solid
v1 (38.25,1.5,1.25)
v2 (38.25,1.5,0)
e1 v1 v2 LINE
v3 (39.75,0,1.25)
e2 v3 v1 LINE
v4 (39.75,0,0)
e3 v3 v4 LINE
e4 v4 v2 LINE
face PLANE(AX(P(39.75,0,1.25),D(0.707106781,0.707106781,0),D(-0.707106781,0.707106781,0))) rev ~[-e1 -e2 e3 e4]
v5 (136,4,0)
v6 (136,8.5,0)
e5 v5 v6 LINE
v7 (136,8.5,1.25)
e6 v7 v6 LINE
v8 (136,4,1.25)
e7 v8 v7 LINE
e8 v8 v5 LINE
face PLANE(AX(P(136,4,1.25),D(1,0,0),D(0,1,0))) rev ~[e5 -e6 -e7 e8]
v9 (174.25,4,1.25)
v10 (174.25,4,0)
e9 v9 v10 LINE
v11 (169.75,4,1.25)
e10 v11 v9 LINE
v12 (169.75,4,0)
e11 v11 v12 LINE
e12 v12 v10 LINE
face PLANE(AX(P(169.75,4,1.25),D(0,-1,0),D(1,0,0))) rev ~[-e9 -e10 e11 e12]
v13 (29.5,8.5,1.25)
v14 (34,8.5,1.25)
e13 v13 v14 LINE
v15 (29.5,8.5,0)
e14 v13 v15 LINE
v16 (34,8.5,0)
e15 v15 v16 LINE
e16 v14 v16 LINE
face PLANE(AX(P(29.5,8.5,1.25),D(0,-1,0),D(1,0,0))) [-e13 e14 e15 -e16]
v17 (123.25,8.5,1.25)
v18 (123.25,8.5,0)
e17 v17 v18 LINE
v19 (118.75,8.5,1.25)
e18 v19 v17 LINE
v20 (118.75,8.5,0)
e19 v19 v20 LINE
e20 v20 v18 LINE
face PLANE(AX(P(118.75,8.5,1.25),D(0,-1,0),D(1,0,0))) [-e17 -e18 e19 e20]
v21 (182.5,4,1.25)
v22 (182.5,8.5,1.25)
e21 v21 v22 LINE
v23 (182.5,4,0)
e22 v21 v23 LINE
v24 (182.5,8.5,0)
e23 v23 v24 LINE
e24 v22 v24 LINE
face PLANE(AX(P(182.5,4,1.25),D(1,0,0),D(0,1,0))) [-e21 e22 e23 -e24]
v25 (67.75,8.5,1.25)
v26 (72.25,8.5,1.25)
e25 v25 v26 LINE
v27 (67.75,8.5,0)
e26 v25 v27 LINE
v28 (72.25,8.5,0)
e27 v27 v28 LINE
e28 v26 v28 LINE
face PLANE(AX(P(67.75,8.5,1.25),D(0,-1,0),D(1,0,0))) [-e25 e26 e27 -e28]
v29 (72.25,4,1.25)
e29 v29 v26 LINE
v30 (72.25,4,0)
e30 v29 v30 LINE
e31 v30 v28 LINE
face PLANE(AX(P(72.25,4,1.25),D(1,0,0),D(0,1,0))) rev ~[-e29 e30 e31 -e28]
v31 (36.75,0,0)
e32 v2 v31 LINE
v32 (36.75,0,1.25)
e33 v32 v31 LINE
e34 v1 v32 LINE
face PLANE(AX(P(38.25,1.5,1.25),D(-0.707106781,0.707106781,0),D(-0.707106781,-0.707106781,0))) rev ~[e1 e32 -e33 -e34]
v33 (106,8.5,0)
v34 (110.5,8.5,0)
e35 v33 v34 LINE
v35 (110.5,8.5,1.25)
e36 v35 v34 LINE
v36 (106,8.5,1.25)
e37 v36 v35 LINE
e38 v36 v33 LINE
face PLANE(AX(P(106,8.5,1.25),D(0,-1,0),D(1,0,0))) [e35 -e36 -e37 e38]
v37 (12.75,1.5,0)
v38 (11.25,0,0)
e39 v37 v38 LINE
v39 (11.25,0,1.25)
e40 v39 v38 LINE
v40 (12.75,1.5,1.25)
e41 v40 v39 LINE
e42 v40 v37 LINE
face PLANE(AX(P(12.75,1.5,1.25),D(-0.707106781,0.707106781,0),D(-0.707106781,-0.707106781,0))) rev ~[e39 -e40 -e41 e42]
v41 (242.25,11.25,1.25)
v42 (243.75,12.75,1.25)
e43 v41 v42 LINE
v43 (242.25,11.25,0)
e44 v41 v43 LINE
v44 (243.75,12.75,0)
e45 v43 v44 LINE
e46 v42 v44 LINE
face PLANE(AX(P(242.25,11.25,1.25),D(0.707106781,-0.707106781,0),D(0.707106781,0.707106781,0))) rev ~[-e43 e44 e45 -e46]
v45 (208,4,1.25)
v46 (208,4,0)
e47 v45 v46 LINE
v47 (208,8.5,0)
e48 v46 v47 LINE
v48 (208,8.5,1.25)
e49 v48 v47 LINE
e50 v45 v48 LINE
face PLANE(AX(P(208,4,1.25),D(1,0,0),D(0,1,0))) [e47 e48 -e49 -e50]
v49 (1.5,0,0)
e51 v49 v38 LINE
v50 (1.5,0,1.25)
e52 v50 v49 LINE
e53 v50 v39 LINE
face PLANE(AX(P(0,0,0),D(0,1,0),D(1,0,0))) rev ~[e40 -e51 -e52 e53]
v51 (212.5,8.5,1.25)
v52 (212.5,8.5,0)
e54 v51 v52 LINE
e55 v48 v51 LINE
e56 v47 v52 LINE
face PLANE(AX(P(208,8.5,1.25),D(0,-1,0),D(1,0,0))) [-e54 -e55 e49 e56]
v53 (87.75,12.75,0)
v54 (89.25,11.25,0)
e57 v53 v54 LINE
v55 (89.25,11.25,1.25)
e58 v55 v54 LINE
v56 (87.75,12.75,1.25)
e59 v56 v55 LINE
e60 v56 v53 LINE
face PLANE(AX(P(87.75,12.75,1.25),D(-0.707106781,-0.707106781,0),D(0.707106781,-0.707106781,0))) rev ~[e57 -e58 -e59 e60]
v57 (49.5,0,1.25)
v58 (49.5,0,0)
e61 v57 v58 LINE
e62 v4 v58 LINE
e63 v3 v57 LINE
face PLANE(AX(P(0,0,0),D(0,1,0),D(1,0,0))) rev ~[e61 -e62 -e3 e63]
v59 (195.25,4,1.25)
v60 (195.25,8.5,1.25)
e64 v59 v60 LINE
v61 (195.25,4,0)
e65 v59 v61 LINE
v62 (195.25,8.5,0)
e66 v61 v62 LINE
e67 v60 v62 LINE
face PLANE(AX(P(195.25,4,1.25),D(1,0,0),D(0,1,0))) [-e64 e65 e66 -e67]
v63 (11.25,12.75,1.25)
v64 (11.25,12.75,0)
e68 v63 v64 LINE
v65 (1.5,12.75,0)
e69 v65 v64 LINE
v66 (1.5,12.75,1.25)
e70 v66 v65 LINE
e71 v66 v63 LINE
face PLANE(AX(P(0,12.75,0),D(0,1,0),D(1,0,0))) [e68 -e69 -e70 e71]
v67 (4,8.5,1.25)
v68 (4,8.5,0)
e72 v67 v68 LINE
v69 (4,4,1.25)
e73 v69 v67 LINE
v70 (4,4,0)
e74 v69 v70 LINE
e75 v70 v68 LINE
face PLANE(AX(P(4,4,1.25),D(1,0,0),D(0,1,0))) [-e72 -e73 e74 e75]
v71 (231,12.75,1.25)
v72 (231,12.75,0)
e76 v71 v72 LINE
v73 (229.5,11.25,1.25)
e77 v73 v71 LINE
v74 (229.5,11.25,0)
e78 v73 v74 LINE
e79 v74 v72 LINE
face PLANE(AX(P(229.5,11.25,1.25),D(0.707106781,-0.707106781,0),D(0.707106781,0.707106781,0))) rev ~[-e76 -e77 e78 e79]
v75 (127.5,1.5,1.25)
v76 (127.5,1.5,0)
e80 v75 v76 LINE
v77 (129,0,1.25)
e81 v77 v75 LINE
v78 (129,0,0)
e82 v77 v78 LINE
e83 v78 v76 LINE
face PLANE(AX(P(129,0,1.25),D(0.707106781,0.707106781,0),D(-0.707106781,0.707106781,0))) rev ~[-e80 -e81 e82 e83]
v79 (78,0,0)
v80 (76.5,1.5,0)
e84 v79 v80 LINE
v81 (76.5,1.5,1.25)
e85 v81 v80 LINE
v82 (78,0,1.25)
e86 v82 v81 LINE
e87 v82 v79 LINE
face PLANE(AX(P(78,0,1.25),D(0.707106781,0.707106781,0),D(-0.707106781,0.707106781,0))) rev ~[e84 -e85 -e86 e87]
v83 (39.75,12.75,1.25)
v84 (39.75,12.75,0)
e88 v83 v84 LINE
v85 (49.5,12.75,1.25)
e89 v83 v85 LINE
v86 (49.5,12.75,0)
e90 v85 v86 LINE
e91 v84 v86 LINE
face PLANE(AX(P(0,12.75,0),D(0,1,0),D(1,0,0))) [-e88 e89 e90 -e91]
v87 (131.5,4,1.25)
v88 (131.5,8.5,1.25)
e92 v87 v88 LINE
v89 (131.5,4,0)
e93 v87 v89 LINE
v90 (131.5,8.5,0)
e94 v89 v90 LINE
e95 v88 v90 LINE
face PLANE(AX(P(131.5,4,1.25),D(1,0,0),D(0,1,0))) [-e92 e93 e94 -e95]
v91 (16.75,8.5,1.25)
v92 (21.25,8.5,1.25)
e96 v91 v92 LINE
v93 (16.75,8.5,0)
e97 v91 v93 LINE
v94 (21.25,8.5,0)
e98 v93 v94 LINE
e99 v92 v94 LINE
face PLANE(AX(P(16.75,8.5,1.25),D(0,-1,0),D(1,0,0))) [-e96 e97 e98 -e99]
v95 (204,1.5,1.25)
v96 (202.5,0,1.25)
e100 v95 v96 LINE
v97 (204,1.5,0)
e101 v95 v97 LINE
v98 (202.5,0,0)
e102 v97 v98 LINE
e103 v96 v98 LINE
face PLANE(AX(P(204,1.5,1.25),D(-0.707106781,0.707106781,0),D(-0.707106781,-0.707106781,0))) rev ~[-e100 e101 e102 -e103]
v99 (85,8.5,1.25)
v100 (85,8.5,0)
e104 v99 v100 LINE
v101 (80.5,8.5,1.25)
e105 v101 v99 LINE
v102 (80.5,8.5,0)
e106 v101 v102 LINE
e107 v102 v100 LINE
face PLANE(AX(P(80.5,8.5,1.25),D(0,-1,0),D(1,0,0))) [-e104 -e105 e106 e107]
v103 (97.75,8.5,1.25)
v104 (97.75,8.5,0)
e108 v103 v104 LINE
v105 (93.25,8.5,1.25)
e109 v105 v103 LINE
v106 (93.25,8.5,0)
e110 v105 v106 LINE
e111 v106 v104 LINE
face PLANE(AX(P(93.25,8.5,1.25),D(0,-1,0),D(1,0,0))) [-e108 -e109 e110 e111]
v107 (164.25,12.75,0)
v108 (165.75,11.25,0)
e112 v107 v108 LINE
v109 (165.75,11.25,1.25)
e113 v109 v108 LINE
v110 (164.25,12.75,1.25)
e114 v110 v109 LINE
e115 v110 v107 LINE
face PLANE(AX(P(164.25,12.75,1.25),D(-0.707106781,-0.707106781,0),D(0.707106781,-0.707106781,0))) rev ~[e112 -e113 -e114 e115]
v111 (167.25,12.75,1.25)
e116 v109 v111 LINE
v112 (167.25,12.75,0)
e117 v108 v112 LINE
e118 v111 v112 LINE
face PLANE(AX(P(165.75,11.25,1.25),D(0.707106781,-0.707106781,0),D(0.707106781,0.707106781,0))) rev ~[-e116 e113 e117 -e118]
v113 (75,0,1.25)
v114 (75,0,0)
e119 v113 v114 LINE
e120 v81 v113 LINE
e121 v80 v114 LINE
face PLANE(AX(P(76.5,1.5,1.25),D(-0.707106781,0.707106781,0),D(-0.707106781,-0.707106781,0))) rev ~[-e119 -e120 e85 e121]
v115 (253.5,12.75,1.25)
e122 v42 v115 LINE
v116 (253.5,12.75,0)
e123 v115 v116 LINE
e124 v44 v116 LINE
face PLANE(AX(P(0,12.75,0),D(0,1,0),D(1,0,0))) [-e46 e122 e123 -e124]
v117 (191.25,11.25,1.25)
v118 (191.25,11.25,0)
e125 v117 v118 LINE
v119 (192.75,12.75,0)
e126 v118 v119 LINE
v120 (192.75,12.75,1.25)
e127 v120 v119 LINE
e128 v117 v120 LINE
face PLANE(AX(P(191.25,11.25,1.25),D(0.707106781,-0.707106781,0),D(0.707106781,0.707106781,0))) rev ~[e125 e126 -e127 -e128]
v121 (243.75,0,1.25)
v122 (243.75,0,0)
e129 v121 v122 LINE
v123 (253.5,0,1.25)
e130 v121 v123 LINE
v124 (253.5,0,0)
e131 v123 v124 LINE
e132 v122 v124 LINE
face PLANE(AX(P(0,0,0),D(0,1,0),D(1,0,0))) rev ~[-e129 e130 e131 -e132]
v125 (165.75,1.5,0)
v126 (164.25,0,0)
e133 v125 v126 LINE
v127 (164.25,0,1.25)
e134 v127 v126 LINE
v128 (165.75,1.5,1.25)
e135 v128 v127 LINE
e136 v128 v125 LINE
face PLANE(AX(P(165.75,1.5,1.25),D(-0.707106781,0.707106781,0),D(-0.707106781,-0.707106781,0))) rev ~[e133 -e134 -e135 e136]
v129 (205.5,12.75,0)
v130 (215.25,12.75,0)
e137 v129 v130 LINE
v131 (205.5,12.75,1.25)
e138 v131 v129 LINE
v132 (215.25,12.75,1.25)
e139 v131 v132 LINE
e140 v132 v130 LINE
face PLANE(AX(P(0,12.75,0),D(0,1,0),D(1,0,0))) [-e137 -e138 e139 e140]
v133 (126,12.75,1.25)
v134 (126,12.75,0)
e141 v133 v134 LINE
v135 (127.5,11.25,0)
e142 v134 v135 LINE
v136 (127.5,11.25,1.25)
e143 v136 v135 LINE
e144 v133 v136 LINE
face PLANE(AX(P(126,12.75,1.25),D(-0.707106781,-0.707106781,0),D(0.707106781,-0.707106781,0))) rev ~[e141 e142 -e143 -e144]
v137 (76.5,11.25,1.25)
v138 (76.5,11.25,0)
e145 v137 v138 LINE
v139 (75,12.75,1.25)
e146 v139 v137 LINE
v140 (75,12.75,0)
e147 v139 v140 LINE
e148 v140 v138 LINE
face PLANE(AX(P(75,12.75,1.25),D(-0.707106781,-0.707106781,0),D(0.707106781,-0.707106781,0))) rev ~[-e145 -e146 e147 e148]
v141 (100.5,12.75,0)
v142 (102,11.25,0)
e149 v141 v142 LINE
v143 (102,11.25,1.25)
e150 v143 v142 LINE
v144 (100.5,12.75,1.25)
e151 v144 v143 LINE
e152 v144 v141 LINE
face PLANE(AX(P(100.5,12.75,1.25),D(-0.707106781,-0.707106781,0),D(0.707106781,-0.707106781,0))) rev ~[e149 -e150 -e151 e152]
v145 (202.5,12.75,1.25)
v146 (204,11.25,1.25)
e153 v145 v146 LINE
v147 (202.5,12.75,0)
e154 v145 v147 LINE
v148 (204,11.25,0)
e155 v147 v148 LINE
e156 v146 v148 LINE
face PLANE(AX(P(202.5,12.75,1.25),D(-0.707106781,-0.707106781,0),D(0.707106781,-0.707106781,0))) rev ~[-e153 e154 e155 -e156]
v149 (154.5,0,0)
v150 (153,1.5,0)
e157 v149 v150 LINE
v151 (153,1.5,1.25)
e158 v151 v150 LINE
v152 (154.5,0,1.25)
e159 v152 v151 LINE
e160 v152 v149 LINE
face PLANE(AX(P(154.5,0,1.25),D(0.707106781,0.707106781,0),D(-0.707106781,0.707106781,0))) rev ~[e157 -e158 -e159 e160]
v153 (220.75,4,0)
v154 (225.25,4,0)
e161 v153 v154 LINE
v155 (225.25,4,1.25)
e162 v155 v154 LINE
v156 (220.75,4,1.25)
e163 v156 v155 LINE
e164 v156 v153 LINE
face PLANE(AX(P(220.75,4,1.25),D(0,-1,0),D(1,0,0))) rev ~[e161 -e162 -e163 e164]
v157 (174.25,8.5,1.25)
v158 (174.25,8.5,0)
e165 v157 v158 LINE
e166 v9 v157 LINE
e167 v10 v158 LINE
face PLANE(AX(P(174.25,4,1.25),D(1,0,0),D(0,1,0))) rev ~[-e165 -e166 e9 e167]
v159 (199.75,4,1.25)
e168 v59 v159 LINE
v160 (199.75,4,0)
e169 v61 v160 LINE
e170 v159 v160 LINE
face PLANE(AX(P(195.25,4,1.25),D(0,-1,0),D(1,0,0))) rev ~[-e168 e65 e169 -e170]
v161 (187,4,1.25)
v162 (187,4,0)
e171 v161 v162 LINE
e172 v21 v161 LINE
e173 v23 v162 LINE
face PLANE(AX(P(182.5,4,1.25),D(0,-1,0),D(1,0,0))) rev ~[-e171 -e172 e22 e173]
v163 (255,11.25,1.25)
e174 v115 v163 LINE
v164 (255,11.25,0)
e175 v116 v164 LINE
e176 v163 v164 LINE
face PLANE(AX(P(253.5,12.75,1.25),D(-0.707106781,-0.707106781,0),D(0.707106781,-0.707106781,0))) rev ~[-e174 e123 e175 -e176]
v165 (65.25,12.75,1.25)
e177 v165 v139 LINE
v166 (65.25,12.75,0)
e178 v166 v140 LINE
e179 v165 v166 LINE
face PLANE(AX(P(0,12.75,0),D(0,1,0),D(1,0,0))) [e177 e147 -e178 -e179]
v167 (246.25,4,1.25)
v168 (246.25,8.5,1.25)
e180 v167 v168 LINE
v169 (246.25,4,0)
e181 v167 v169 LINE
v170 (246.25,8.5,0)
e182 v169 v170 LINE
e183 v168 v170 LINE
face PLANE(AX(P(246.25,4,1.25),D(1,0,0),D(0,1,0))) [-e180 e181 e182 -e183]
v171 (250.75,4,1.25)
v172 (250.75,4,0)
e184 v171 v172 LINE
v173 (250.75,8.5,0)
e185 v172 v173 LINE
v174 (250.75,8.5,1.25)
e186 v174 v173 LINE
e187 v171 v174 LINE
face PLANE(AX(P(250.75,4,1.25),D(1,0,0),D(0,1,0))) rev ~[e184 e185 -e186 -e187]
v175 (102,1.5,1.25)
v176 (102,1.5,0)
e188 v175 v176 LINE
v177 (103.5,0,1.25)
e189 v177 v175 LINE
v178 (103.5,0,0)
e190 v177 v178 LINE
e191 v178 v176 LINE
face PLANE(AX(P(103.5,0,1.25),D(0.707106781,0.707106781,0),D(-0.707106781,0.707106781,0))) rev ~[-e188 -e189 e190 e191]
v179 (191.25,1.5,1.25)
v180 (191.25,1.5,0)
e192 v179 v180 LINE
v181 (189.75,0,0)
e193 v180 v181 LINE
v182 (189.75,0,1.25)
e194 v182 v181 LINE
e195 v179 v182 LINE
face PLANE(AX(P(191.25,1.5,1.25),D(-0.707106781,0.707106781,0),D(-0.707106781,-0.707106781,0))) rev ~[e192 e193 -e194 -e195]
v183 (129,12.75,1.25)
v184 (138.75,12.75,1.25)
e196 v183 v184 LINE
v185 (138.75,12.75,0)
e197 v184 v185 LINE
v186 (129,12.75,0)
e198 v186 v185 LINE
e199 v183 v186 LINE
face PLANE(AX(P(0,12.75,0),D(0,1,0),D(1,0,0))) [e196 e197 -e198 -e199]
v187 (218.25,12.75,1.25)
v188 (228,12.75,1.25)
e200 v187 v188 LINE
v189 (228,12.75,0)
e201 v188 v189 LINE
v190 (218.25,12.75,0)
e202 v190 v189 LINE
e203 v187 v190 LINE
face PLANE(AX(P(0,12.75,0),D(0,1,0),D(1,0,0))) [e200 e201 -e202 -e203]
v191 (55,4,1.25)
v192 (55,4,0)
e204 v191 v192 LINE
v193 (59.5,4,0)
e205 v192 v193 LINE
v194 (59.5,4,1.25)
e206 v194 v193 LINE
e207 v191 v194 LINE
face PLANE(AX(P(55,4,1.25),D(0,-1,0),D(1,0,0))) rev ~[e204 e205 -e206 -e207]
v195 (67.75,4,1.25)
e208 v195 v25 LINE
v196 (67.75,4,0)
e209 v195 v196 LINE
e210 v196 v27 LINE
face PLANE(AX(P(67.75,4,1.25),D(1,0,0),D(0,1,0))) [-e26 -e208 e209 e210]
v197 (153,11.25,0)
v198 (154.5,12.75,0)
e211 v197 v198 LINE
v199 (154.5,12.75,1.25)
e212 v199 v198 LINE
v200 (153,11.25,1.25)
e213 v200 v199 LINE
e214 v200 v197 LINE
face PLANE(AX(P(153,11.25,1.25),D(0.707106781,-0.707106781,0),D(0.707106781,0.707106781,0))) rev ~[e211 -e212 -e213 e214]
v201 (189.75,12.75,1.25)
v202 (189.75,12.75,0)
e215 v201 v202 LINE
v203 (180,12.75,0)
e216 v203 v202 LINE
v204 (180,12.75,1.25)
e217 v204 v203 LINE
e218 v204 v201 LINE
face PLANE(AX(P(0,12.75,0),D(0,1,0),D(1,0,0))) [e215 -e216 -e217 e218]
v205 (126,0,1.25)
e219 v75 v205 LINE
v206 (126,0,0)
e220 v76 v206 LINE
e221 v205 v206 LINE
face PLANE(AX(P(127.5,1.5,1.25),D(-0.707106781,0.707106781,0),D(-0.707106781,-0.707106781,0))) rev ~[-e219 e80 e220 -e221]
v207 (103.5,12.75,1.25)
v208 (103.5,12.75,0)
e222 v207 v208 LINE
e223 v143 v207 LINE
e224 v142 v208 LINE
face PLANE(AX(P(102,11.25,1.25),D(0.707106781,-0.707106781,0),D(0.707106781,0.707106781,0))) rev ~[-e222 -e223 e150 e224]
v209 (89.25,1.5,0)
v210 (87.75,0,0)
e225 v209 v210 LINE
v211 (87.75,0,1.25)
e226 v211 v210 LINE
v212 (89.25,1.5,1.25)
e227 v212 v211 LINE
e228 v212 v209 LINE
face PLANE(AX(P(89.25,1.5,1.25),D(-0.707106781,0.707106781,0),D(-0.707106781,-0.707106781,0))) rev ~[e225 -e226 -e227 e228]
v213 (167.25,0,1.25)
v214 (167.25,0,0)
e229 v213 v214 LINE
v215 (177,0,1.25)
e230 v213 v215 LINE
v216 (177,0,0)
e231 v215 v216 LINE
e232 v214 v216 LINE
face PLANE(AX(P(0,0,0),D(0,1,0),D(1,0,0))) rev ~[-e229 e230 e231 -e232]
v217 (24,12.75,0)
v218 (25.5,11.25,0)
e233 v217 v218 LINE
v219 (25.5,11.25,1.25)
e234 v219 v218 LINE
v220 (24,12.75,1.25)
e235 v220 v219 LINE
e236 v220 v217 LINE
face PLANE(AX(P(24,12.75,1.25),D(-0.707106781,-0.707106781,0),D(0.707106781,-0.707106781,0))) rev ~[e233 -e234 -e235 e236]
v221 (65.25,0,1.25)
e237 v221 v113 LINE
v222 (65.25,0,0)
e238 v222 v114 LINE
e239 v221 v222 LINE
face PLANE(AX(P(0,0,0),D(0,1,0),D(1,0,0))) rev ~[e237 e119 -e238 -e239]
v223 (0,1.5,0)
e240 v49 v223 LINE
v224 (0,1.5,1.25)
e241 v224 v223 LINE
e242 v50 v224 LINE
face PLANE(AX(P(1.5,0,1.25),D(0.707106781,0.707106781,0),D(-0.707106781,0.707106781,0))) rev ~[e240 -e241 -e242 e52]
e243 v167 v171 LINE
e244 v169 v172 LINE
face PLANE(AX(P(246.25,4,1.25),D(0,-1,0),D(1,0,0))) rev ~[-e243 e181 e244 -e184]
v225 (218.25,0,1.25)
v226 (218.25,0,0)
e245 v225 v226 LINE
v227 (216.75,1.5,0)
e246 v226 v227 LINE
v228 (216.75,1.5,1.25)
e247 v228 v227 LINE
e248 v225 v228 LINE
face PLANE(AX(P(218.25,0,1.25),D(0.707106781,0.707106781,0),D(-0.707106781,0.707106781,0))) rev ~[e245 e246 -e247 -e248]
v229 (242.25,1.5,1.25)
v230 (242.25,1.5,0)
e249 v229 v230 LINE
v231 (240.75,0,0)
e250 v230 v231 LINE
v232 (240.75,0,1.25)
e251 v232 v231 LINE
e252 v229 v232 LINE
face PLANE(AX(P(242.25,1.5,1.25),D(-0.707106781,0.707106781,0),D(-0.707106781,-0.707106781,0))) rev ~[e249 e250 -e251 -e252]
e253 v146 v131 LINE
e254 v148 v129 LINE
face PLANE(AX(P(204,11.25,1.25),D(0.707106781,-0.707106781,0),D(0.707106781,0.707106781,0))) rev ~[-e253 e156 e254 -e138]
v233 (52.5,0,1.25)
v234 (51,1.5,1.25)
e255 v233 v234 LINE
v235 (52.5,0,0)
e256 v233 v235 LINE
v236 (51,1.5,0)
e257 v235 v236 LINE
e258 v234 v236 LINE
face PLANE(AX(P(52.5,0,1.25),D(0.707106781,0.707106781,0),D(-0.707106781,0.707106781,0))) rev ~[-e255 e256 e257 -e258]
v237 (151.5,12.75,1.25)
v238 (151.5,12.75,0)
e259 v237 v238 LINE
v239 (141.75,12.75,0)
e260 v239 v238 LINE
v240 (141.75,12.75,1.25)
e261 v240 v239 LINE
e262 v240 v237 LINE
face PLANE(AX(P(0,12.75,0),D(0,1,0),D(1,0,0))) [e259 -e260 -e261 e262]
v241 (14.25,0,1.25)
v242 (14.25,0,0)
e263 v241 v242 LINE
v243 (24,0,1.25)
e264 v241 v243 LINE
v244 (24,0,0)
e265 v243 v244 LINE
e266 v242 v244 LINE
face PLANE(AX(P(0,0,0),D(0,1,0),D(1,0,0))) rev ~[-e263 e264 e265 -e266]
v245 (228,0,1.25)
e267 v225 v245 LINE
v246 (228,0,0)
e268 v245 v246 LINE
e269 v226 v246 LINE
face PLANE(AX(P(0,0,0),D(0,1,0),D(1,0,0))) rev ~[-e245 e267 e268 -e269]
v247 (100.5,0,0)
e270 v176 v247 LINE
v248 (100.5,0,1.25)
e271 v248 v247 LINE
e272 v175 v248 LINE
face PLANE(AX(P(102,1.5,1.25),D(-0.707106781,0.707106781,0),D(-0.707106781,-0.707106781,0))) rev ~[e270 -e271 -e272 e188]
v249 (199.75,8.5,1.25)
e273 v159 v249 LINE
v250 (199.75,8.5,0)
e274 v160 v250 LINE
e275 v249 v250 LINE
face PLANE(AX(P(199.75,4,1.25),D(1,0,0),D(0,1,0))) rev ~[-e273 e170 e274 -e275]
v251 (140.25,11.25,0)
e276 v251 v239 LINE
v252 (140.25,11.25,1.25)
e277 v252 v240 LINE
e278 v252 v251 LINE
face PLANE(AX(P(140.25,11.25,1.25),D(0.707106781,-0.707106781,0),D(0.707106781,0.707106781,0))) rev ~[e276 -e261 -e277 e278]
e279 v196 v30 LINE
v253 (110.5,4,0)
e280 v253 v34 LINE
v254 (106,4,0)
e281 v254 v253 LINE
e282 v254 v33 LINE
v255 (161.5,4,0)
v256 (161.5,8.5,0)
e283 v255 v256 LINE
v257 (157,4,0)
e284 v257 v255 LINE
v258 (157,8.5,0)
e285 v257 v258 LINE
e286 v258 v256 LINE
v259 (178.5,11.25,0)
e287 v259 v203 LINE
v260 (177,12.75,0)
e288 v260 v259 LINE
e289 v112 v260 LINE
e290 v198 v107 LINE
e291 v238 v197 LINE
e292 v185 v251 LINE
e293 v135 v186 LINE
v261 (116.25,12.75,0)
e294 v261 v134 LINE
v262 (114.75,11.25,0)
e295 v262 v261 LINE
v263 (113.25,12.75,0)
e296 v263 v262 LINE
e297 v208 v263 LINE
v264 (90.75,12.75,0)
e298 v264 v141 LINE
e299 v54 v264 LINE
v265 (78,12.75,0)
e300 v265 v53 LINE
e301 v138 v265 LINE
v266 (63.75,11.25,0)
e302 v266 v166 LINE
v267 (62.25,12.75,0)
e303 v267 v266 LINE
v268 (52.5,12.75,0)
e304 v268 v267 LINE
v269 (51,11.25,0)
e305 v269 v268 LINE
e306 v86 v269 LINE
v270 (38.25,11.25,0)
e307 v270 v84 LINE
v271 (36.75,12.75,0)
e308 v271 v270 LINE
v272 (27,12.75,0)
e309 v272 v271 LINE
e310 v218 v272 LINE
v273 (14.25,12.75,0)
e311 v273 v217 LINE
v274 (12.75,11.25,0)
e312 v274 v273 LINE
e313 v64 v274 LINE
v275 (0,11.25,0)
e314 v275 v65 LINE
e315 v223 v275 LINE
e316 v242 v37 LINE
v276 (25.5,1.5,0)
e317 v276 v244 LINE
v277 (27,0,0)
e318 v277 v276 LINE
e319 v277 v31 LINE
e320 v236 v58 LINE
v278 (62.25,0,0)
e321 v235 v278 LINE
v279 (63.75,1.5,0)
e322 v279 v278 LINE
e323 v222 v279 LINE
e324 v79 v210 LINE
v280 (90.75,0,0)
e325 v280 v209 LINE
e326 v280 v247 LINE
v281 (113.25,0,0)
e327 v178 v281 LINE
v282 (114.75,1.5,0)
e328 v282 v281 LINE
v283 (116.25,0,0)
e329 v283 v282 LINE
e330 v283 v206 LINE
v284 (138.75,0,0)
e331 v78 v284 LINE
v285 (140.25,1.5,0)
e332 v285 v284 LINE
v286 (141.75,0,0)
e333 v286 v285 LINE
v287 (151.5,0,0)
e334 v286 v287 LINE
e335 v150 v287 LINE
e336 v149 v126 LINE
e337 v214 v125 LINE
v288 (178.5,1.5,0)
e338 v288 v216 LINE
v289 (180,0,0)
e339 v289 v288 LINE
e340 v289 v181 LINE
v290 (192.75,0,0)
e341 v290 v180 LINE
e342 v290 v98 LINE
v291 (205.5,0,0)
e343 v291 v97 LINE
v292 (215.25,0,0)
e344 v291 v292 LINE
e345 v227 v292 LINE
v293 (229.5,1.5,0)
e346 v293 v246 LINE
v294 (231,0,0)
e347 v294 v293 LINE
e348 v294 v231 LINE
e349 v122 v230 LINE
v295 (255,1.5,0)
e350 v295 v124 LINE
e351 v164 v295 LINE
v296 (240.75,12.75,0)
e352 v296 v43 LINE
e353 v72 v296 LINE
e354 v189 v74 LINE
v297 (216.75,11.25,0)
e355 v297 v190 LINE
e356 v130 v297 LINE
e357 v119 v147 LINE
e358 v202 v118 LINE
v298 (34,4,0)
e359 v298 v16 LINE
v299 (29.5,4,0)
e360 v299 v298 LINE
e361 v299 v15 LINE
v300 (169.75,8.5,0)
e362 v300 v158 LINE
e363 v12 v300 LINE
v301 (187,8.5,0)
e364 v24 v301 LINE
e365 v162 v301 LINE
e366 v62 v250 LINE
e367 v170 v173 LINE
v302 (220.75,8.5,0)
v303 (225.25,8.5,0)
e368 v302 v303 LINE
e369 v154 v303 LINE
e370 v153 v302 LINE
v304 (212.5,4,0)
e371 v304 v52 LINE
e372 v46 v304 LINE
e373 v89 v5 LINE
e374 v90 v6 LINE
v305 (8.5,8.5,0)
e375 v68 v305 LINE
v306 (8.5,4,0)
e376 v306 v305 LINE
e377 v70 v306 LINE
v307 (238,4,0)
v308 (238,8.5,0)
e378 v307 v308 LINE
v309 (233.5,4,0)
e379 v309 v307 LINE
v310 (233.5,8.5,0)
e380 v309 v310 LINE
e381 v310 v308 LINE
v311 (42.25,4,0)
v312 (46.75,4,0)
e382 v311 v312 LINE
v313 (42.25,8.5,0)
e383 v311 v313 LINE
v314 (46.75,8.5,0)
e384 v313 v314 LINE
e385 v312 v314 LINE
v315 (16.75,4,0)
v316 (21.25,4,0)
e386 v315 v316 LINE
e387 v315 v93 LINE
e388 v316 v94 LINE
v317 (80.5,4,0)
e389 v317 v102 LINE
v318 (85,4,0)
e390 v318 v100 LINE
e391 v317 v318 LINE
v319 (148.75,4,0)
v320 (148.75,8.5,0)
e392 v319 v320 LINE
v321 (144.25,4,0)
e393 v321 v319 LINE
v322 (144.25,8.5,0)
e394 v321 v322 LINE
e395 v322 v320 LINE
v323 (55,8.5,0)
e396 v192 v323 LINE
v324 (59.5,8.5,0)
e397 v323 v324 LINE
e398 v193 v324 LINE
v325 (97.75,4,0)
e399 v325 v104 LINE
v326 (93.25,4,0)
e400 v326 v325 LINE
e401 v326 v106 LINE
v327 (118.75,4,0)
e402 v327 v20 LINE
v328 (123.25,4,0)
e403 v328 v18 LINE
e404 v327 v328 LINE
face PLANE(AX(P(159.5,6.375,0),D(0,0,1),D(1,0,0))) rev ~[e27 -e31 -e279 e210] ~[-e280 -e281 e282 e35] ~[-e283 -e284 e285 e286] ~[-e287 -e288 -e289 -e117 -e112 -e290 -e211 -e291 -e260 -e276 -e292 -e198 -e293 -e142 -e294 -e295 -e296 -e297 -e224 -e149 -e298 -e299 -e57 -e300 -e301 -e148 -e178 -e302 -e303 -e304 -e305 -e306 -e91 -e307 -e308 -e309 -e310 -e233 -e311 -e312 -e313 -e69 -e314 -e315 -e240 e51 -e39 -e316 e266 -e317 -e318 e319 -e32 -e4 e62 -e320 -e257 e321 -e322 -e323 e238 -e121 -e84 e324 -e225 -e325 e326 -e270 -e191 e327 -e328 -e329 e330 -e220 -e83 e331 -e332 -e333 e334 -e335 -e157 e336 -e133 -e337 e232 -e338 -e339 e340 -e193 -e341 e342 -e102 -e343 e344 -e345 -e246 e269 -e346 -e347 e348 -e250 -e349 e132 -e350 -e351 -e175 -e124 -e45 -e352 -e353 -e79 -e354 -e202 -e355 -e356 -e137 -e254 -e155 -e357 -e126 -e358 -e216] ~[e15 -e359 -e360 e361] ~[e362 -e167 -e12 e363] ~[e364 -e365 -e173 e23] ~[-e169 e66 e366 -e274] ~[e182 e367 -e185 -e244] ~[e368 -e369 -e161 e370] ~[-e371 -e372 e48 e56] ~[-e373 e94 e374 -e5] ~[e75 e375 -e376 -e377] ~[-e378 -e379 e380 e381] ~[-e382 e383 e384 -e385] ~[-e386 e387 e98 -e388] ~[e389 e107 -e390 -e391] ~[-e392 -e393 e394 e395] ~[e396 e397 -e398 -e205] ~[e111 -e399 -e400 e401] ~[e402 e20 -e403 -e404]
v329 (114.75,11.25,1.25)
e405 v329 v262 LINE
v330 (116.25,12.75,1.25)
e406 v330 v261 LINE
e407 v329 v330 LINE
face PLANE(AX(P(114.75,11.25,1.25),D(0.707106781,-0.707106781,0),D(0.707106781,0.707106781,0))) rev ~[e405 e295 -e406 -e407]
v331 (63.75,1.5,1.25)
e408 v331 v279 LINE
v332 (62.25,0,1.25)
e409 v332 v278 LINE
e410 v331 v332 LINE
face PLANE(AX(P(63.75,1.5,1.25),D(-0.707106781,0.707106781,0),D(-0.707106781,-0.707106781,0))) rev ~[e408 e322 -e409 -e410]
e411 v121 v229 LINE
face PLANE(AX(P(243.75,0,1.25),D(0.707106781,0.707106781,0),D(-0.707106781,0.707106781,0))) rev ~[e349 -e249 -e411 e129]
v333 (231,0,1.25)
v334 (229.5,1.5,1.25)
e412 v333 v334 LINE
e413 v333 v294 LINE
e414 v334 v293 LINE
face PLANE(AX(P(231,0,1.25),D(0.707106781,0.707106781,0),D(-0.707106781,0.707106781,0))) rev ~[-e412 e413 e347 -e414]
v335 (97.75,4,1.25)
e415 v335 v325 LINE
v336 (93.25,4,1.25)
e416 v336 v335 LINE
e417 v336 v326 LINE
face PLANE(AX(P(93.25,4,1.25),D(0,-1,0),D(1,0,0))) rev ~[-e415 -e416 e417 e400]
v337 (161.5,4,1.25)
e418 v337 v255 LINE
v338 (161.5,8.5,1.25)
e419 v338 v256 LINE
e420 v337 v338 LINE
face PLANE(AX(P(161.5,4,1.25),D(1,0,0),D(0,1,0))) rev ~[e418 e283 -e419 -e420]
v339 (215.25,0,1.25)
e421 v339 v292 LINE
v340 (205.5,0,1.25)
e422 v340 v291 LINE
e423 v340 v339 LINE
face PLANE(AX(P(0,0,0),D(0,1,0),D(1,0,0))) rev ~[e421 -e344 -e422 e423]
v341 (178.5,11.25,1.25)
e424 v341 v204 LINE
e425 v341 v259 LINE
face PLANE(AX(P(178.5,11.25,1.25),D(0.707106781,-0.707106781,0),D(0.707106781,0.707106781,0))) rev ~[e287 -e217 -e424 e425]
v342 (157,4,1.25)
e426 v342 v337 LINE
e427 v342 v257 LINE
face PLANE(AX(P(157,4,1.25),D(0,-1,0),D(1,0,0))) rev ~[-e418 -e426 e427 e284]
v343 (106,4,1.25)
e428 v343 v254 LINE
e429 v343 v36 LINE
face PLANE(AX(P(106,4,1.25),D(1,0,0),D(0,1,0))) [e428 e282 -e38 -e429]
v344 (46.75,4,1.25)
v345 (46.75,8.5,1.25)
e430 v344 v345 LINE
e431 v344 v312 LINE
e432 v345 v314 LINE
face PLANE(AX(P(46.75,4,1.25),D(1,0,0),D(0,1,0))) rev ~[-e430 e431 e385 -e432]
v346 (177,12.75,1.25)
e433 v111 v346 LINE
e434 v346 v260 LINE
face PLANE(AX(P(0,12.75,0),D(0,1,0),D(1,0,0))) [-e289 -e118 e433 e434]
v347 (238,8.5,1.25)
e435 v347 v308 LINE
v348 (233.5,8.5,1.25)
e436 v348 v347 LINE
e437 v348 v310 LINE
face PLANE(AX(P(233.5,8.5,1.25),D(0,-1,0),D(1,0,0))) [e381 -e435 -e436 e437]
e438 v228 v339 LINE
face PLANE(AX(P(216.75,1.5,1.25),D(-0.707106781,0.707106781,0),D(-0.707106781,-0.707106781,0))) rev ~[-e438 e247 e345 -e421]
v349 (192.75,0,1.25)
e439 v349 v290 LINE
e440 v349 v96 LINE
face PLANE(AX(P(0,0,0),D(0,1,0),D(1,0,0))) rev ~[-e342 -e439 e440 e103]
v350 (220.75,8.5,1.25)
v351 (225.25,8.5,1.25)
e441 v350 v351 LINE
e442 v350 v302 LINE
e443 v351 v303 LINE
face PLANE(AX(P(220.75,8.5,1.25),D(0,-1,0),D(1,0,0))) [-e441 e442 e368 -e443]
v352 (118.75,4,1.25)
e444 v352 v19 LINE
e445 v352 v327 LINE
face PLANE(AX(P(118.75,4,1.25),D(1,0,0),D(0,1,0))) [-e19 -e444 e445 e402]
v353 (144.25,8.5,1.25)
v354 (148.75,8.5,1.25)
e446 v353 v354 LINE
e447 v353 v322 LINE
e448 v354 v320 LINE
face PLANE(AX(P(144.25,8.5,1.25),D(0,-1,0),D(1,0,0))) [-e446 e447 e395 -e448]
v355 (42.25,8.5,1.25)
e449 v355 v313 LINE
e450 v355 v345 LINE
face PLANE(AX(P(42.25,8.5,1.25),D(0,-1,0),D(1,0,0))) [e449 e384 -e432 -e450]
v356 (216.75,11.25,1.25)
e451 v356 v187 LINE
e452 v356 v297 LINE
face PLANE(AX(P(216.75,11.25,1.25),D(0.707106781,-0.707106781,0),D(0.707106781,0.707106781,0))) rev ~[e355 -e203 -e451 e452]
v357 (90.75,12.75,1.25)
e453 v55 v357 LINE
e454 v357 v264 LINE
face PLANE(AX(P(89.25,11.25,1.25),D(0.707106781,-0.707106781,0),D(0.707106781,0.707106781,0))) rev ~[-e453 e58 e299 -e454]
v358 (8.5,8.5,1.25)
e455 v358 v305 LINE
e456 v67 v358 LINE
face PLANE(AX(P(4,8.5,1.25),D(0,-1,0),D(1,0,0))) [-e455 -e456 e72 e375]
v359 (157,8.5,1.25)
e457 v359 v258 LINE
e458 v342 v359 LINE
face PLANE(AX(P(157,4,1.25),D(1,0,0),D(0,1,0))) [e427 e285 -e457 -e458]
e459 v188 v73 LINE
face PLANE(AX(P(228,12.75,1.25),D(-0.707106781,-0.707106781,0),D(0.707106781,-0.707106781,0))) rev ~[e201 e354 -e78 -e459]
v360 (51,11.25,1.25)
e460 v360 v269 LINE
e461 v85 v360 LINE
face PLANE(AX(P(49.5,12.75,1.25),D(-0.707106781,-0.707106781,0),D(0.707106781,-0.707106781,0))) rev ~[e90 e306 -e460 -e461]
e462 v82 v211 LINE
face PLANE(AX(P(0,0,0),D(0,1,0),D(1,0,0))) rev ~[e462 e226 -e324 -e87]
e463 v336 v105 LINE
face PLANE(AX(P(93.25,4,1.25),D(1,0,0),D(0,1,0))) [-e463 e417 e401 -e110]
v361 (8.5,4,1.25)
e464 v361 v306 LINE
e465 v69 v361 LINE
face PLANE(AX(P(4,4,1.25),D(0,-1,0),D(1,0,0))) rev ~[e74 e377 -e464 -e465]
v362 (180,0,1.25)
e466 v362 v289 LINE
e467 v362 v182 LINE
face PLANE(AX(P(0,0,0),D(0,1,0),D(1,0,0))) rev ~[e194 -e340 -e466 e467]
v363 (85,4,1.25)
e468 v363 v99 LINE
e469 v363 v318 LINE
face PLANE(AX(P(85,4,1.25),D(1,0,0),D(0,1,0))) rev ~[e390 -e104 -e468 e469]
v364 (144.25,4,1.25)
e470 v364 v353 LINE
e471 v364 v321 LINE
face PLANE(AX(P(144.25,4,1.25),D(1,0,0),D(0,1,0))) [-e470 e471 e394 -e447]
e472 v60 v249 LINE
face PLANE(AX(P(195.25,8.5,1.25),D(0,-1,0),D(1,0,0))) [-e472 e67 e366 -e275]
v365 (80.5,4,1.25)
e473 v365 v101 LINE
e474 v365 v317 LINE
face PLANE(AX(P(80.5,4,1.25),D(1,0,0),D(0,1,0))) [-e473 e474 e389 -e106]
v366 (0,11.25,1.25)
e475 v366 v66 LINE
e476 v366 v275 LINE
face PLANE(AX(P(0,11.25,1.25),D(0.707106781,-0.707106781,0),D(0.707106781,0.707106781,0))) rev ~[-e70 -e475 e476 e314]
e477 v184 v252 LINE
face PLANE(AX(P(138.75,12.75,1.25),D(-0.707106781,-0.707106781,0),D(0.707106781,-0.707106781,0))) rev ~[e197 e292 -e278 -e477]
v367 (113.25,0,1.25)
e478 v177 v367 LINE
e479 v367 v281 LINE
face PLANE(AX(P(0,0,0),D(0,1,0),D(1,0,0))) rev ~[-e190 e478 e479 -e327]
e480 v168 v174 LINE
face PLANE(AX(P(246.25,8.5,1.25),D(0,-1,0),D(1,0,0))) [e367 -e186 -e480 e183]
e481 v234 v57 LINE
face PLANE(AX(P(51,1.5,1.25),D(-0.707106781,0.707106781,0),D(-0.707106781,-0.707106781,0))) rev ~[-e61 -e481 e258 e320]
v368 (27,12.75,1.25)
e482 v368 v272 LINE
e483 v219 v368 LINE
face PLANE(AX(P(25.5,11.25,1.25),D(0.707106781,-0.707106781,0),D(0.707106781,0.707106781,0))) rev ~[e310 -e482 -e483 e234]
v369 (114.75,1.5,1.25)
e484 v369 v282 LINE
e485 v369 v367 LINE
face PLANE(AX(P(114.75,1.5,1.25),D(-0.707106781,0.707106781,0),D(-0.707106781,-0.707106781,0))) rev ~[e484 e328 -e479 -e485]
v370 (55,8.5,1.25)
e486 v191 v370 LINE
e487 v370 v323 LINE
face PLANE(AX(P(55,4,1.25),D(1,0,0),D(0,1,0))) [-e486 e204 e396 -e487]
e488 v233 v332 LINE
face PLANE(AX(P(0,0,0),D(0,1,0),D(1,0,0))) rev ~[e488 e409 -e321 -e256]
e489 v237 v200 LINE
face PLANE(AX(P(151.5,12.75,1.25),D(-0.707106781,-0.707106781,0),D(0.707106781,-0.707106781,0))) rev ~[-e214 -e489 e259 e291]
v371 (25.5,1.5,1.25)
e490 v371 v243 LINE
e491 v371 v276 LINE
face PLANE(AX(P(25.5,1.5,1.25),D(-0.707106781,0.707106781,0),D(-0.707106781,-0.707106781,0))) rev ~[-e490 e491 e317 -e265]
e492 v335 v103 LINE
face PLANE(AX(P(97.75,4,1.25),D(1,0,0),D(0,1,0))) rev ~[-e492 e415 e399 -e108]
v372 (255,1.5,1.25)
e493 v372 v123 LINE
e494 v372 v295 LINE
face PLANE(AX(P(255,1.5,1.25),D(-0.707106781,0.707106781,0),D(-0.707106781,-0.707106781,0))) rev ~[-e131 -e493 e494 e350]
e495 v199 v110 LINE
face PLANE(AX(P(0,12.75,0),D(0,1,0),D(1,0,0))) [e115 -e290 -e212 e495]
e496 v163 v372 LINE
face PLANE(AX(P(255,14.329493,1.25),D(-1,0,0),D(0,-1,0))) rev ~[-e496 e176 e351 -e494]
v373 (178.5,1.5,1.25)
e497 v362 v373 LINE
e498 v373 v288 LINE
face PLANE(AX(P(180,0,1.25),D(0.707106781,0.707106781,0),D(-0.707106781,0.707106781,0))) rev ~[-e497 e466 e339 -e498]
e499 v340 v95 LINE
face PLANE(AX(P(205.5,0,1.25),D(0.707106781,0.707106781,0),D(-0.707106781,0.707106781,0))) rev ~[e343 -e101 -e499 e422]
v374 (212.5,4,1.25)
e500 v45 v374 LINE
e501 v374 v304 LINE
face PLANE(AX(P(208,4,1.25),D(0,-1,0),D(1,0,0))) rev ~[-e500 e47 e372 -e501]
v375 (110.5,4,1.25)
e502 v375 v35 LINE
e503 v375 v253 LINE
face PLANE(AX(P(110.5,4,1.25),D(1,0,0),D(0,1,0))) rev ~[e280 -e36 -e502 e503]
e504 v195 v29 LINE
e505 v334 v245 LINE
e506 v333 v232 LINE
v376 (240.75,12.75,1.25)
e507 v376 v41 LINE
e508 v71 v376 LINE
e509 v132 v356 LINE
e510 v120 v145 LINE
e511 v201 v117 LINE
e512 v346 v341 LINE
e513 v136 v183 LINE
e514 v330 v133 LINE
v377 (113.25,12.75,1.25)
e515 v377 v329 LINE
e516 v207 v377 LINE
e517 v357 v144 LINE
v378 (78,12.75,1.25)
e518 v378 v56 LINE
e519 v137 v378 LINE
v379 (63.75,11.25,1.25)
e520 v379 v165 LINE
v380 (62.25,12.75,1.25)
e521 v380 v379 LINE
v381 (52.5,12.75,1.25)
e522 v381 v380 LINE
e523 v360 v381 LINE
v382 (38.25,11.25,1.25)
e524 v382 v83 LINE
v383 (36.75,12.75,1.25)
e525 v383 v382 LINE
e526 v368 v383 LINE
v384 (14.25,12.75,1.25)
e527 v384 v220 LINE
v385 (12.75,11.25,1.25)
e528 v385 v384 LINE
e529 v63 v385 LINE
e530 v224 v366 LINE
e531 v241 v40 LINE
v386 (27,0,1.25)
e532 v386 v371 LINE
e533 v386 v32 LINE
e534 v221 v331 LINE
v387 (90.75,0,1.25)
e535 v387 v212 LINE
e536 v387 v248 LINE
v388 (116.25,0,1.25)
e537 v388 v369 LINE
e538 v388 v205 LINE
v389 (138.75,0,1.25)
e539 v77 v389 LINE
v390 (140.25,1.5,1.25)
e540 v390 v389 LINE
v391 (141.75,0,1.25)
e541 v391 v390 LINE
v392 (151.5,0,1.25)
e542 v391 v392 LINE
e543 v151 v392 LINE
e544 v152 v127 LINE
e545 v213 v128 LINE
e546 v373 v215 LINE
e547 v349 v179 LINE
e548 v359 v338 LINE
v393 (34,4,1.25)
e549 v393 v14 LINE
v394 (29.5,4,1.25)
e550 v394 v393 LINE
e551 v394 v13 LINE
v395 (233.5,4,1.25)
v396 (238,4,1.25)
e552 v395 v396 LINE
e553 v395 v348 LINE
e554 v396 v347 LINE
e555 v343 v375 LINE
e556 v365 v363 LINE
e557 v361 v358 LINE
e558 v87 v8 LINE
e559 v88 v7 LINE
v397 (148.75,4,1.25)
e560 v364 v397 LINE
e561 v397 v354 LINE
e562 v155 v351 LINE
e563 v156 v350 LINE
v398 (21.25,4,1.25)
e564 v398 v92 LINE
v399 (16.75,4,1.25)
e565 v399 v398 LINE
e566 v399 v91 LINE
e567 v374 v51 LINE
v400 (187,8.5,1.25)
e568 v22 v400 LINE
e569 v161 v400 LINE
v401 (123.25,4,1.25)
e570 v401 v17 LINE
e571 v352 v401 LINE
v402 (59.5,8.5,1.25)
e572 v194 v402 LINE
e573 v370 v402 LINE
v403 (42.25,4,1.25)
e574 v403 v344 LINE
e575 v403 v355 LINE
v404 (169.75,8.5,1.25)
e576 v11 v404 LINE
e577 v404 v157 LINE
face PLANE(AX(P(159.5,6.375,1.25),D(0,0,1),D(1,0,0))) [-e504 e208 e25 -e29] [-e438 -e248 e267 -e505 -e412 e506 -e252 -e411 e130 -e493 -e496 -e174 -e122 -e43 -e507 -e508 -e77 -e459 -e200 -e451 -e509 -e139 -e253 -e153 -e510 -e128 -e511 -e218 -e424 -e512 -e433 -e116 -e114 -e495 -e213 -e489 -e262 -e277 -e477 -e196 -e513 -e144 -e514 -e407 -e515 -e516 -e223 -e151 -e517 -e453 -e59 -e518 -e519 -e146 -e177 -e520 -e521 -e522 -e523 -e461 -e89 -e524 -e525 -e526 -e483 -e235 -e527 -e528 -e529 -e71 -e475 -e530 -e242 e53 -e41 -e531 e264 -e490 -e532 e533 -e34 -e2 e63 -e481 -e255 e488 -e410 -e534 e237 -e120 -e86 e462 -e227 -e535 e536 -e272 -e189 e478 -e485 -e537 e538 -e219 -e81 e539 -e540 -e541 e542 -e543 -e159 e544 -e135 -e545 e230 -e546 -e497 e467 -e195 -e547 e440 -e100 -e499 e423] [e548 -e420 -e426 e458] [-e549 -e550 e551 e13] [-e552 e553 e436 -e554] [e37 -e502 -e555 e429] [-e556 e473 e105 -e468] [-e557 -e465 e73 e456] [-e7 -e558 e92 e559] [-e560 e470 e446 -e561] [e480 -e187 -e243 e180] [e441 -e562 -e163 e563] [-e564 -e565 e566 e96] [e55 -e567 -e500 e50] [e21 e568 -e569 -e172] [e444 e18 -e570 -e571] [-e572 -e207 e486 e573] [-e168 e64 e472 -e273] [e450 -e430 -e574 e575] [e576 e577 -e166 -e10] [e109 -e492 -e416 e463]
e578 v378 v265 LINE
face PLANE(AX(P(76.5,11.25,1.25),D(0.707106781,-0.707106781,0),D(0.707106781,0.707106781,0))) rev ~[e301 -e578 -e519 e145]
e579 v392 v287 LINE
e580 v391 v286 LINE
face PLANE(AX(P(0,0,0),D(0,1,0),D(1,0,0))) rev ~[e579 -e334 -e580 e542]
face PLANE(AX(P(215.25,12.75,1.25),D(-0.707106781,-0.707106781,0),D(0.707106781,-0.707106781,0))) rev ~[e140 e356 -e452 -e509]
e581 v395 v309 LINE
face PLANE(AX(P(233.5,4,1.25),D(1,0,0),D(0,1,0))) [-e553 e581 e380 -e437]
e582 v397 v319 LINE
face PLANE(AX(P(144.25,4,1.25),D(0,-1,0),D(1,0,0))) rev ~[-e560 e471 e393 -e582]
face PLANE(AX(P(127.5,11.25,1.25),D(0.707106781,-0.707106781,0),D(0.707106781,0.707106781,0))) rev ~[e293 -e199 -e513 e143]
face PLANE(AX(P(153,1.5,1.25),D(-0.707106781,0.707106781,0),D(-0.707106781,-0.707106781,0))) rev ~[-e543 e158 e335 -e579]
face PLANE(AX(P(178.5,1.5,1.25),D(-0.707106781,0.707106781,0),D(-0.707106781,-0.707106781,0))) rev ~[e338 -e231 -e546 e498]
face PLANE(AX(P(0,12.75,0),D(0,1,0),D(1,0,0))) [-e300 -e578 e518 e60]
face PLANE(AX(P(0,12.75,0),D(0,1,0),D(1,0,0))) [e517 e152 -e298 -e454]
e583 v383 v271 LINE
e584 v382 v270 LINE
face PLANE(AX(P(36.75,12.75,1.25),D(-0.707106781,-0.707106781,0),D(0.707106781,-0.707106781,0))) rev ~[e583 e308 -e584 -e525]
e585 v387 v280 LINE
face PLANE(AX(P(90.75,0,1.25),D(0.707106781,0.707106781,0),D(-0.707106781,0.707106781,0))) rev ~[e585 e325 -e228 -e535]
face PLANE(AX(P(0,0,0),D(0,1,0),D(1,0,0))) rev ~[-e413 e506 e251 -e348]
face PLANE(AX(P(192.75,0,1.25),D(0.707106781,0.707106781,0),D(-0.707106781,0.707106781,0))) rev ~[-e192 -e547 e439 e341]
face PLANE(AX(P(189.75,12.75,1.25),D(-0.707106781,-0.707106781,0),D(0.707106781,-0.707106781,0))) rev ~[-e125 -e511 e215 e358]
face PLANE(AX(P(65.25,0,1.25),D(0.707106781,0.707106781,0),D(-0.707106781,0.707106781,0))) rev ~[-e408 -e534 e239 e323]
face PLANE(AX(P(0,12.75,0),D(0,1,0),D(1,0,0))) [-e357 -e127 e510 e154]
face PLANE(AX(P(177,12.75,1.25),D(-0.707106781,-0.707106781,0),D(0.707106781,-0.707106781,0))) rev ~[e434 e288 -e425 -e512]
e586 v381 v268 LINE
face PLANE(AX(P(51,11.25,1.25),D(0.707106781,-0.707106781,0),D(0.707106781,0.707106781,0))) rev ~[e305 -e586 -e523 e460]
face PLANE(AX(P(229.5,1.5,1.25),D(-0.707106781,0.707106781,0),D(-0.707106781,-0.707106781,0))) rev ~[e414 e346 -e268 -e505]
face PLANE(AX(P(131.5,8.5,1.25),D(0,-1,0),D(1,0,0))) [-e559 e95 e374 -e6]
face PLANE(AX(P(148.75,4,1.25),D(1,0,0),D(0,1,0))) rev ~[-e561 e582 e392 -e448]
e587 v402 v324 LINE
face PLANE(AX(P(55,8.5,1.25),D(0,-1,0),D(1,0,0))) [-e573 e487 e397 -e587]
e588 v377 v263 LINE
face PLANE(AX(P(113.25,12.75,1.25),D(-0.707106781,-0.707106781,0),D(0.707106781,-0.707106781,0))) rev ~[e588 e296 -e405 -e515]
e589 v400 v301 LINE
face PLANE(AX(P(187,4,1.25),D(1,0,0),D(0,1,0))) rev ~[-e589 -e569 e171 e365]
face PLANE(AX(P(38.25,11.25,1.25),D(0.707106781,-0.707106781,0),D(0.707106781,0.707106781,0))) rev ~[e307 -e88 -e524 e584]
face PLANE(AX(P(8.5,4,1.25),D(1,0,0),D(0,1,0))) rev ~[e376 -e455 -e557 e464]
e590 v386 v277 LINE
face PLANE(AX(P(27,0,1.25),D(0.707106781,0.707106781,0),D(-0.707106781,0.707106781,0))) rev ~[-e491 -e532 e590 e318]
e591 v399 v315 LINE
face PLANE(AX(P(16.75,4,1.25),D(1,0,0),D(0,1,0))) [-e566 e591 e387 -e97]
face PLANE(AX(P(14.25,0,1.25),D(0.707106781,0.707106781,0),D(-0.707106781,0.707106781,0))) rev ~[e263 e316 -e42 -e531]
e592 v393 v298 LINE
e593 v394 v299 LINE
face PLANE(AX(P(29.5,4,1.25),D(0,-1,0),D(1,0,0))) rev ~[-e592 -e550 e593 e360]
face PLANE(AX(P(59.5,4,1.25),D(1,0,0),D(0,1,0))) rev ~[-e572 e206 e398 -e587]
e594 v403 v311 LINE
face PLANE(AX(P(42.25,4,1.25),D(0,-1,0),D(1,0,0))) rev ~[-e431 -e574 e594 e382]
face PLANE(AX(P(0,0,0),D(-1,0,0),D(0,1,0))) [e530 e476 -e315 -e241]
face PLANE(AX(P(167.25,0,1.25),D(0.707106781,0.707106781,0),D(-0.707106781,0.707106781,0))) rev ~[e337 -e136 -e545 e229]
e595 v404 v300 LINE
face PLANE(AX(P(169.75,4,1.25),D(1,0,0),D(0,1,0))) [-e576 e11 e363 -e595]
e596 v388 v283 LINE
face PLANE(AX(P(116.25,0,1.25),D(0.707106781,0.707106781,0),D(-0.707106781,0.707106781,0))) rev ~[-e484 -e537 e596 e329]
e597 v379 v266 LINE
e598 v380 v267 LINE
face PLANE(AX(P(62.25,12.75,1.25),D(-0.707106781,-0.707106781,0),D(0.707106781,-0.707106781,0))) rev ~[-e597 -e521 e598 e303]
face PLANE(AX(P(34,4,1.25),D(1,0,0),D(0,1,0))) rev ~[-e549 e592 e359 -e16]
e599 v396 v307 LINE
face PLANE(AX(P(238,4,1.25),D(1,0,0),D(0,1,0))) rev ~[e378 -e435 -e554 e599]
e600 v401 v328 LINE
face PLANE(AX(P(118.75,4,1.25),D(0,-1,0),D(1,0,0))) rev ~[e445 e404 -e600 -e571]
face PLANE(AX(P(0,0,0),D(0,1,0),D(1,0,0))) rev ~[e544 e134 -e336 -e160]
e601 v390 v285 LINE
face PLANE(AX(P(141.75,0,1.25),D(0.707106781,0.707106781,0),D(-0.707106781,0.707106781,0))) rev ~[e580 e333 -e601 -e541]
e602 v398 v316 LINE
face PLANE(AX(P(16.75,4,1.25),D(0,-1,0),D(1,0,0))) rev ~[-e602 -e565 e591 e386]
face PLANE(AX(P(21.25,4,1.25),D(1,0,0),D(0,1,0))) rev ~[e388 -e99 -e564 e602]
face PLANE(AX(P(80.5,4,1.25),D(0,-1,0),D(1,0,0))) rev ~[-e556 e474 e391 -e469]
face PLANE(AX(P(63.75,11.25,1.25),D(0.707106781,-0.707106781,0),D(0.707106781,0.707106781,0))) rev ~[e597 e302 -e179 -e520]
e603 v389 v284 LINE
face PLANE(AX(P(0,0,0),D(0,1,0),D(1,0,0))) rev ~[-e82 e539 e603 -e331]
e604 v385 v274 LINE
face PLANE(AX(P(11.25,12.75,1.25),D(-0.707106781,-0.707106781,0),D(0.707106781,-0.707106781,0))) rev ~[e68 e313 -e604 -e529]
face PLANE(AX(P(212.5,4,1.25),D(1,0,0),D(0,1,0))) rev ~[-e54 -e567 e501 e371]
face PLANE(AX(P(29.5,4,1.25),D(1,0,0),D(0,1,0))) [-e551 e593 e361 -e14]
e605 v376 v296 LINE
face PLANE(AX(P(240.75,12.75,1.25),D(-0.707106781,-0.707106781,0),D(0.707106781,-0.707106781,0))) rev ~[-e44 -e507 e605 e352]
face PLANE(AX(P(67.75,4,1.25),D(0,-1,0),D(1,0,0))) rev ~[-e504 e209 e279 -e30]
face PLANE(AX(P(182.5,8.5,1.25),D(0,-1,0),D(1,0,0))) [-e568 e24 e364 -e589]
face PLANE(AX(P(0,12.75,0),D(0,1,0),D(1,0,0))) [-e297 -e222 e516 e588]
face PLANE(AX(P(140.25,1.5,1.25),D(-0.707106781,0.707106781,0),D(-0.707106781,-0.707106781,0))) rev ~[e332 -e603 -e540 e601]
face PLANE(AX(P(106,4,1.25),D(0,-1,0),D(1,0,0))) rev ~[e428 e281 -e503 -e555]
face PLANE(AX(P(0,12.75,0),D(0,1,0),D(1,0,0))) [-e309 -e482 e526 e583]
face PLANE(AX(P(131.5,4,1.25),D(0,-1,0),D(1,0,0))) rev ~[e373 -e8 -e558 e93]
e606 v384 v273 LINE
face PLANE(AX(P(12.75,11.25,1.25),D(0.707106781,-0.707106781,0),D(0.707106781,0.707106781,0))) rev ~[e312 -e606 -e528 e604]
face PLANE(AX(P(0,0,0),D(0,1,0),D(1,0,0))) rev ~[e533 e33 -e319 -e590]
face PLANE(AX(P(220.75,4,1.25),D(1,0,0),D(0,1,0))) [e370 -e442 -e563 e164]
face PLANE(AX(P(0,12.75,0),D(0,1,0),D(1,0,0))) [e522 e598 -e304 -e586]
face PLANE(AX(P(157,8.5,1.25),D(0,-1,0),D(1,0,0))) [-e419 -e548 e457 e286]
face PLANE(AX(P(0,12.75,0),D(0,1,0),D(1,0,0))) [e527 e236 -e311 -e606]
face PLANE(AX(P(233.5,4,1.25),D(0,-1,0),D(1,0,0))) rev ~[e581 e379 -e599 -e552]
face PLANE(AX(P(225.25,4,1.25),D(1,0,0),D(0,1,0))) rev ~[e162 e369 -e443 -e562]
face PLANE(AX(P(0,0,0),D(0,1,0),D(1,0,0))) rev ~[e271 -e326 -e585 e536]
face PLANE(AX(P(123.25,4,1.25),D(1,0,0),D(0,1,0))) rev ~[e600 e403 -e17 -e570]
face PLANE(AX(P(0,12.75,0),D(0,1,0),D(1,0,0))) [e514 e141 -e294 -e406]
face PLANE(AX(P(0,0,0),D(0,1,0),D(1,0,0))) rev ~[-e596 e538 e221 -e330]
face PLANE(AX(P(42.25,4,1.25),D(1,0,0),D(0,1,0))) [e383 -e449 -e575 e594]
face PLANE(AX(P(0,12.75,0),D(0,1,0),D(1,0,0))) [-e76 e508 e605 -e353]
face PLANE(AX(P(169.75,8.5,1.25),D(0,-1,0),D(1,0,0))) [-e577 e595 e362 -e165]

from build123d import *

# Parameters (mm, degrees)
SKETCH1_W           = 319
SKETCH1_H           = 12.75
BOSS_EXTRUDE1_DEPTH = 1.25
SKETCH2_W           = 4.5
SKETCH2_H           = 4.5
CUT_EXTRUDE1_DEPTH  = 18.25
SKETCH3_W           = 4.5
SKETCH3_H           = 4.5
CUT_EXTRUDE2_DEPTH  = 18.25
CUT_EXTRUDE3_DEPTH  = 18.25


with BuildPart() as part:
    # Sketch1 → Boss-Extrude1 (new body)
    with BuildSketch(Plane.XY):
        with Locations((159.5, 6.375)):
            Rectangle(SKETCH1_W, SKETCH1_H)
    extrude(amount=BOSS_EXTRUDE1_DEPTH)

    # Sketch2 → Cut-Extrude1 (cut)
    with BuildSketch(Plane.XY.offset(1.25)):
        with Locations((6.25, 6.25)):
            Rectangle(SKETCH2_W, SKETCH2_H)
        with Locations((19, 6.25)):
            Rectangle(SKETCH2_W, SKETCH2_H)
        with Locations((31.75, 6.25)):
            Rectangle(SKETCH2_W, SKETCH2_H)
        with Locations((44.5, 6.25)):
            Rectangle(SKETCH2_W, SKETCH2_H)
        with Locations((57.25, 6.25)):
            Rectangle(SKETCH2_W, SKETCH2_H)
        with Locations((70, 6.25)):
            Rectangle(SKETCH2_W, SKETCH2_H)
        with Locations((82.75, 6.25)):
            Rectangle(SKETCH2_W, SKETCH2_H)
        with Locations((95.5, 6.25)):
            Rectangle(SKETCH2_W, SKETCH2_H)
        with Locations((108.25, 6.25)):
            Rectangle(SKETCH2_W, SKETCH2_H)
        with Locations((133.75, 6.25)):
            Rectangle(SKETCH2_W, SKETCH2_H)
        with Locations((146.5, 6.25)):
            Rectangle(SKETCH2_W, SKETCH2_H)
        with Locations((172, 6.25)):
            Rectangle(SKETCH2_W, SKETCH2_H)
        with Locations((184.75, 6.25)):
            Rectangle(SKETCH2_W, SKETCH2_H)
        with Locations((210.25, 6.25)):
            Rectangle(SKETCH2_W, SKETCH2_H)
        with Locations((223, 6.25)):
            Rectangle(SKETCH2_W, SKETCH2_H)
        with Locations((235.75, 6.25)):
            Rectangle(SKETCH2_W, SKETCH2_H)
        with Locations((248.5, 6.25)):
            Rectangle(SKETCH2_W, SKETCH2_H)
        with Locations((261.25, 6.25)):
            Rectangle(SKETCH2_W, SKETCH2_H)
        with Locations((274, 6.25)):
            Rectangle(SKETCH2_W, SKETCH2_H)
        with Locations((286.75, 6.25)):
            Rectangle(SKETCH2_W, SKETCH2_H)
        with Locations((299.5, 6.25)):
            Rectangle(SKETCH2_W, SKETCH2_H)
        with Locations((312.25, 6.25)):
            Rectangle(SKETCH2_W, SKETCH2_H)
        Polygon((0, 12.75), (0, 11.25), (1.5, 12.75), align=None)
        Polygon((1.5, 0), (0, 1.5), (0, 0), align=None)
        Polygon((14.25, 12.75), (11.25, 12.75), (12.75, 11.25), align=None)
        Polygon((12.75, 1.5), (11.25, 0), (14.25, 0), align=None)
        Polygon((25.5, 1.5), (24, 0), (27, 0), align=None)
        Polygon((27, 12.75), (24, 12.75), (25.5, 11.25), align=None)
        Polygon((38.25, 1.5), (36.75, 0), (39.75, 0), align=None)
        Polygon((52.5, 12.75), (49.5, 12.75), (51, 11.25), align=None)
        Polygon((51, 1.5), (49.5, 0), (52.5, 0), align=None)
        Polygon((39.75, 12.75), (36.75, 12.75), (38.25, 11.25), align=None)
        Polygon((65.25, 12.75), (62.25, 12.75), (63.75, 11.25), align=None)
        Polygon((63.75, 1.5), (62.25, 0), (65.25, 0), align=None)
        Polygon((76.5, 1.5), (75, 0), (78, 0), align=None)
        Polygon((78, 12.75), (75, 12.75), (76.5, 11.25), align=None)
        Polygon((90.75, 12.75), (87.75, 12.75), (89.25, 11.25), align=None)
        Polygon((89.25, 1.5), (87.75, 0), (90.75, 0), align=None)
        Polygon((102, 1.5), (100.5, 0), (103.5, 0), align=None)
        Polygon((103.5, 12.75), (100.5, 12.75), (102, 11.25), align=None)
        Polygon((116.25, 12.75), (113.25, 12.75), (114.75, 11.25), align=None)
        Polygon((114.75, 1.5), (113.25, 0), (116.25, 0), align=None)
        Polygon((127.5, 1.5), (126, 0), (129, 0), align=None)
        Polygon((129, 12.75), (126, 12.75), (127.5, 11.25), align=None)
        Polygon((140.25, 1.5), (138.75, 0), (141.75, 0), align=None)
        Polygon((141.75, 12.75), (138.75, 12.75), (140.25, 11.25), align=None)
        Polygon((154.5, 12.75), (151.5, 12.75), (153, 11.25), align=None)
        Polygon((153, 1.5), (151.5, 0), (154.5, 0), align=None)
        Polygon((167.25, 12.75), (164.25, 12.75), (165.75, 11.25), align=None)
        Polygon((180, 12.75), (177, 12.75), (178.5, 11.25), align=None)
        Polygon((192.75, 12.75), (189.75, 12.75), (191.25, 11.25), align=None)
        Polygon((205.5, 12.75), (202.5, 12.75), (204, 11.25), align=None)
        Polygon((218.25, 12.75), (215.25, 12.75), (216.75, 11.25), align=None)
        Polygon((231, 12.75), (228, 12.75), (229.5, 11.25), align=None)
        Polygon((243.75, 12.75), (240.75, 12.75), (242.25, 11.25), align=None)
        Polygon((256.5, 12.75), (253.5, 12.75), (255, 11.25), align=None)
        Polygon((269.25, 12.75), (266.25, 12.75), (267.75, 11.25), align=None)
        Polygon((282, 12.75), (279, 12.75), (280.5, 11.25), align=None)
        Polygon((294.75, 12.75), (291.75, 12.75), (293.25, 11.25), align=None)
        Polygon((307.5, 12.75), (304.5, 12.75), (306, 11.25), align=None)
        Polygon((318.75, 1.5), (317.25, 0), (319, 0), (319, 12.75), (317.25, 12.75), (318.75, 11.25), align=None)
        Polygon((306, 1.5), (304.5, 0), (307.5, 0), align=None)
        Polygon((293.25, 1.5), (291.75, 0), (294.75, 0), align=None)
        Polygon((280.5, 1.5), (279, 0), (282, 0), align=None)
        Polygon((267.75, 1.5), (266.25, 0), (269.25, 0), align=None)
        Polygon((255, 1.5), (253.5, 0), (256.5, 0), align=None)
        Polygon((242.25, 1.5), (240.75, 0), (243.75, 0), align=None)
        Polygon((229.5, 1.5), (228, 0), (231, 0), align=None)
        Polygon((165.75, 1.5), (164.25, 0), (167.25, 0), align=None)
        Polygon((178.5, 1.5), (177, 0), (180, 0), align=None)
        Polygon((191.25, 1.5), (189.75, 0), (192.75, 0), align=None)
        Polygon((204, 1.5), (202.5, 0), (205.5, 0), align=None)
        Polygon((216.75, 1.5), (215.25, 0), (218.25, 0), align=None)
        with Locations((121, 6.25)):
            Rectangle(SKETCH2_W, SKETCH2_H)
        with Locations((197.5, 6.25)):
            Rectangle(SKETCH2_W, SKETCH2_H)
    extrude(amount=-CUT_EXTRUDE1_DEPTH, mode=Mode.SUBTRACT)

    # Sketch3 → Cut-Extrude2 (cut)
    with BuildSketch(Plane.XY.offset(1.25)):
        with Locations((159.25, 6.25)):
            Rectangle(SKETCH3_W, SKETCH3_H)
        with Locations((146.5, 6.25)):
            Rectangle(SKETCH3_W, SKETCH3_H)
    extrude(amount=-CUT_EXTRUDE2_DEPTH, mode=Mode.SUBTRACT)

    # Sketch4 → Cut-Extrude3 (cut)
    with BuildSketch(Plane.XY.offset(1.25)):
        Polygon((255, 14.329492595), (255, 11.25), (255, 1.5), (255, -2.349525885), (322.855665697, -2.349525885), (322.855665697, 14.329492595), align=None)
    extrude(amount=-CUT_EXTRUDE3_DEPTH, mode=Mode.SUBTRACT)


solid = part.part
